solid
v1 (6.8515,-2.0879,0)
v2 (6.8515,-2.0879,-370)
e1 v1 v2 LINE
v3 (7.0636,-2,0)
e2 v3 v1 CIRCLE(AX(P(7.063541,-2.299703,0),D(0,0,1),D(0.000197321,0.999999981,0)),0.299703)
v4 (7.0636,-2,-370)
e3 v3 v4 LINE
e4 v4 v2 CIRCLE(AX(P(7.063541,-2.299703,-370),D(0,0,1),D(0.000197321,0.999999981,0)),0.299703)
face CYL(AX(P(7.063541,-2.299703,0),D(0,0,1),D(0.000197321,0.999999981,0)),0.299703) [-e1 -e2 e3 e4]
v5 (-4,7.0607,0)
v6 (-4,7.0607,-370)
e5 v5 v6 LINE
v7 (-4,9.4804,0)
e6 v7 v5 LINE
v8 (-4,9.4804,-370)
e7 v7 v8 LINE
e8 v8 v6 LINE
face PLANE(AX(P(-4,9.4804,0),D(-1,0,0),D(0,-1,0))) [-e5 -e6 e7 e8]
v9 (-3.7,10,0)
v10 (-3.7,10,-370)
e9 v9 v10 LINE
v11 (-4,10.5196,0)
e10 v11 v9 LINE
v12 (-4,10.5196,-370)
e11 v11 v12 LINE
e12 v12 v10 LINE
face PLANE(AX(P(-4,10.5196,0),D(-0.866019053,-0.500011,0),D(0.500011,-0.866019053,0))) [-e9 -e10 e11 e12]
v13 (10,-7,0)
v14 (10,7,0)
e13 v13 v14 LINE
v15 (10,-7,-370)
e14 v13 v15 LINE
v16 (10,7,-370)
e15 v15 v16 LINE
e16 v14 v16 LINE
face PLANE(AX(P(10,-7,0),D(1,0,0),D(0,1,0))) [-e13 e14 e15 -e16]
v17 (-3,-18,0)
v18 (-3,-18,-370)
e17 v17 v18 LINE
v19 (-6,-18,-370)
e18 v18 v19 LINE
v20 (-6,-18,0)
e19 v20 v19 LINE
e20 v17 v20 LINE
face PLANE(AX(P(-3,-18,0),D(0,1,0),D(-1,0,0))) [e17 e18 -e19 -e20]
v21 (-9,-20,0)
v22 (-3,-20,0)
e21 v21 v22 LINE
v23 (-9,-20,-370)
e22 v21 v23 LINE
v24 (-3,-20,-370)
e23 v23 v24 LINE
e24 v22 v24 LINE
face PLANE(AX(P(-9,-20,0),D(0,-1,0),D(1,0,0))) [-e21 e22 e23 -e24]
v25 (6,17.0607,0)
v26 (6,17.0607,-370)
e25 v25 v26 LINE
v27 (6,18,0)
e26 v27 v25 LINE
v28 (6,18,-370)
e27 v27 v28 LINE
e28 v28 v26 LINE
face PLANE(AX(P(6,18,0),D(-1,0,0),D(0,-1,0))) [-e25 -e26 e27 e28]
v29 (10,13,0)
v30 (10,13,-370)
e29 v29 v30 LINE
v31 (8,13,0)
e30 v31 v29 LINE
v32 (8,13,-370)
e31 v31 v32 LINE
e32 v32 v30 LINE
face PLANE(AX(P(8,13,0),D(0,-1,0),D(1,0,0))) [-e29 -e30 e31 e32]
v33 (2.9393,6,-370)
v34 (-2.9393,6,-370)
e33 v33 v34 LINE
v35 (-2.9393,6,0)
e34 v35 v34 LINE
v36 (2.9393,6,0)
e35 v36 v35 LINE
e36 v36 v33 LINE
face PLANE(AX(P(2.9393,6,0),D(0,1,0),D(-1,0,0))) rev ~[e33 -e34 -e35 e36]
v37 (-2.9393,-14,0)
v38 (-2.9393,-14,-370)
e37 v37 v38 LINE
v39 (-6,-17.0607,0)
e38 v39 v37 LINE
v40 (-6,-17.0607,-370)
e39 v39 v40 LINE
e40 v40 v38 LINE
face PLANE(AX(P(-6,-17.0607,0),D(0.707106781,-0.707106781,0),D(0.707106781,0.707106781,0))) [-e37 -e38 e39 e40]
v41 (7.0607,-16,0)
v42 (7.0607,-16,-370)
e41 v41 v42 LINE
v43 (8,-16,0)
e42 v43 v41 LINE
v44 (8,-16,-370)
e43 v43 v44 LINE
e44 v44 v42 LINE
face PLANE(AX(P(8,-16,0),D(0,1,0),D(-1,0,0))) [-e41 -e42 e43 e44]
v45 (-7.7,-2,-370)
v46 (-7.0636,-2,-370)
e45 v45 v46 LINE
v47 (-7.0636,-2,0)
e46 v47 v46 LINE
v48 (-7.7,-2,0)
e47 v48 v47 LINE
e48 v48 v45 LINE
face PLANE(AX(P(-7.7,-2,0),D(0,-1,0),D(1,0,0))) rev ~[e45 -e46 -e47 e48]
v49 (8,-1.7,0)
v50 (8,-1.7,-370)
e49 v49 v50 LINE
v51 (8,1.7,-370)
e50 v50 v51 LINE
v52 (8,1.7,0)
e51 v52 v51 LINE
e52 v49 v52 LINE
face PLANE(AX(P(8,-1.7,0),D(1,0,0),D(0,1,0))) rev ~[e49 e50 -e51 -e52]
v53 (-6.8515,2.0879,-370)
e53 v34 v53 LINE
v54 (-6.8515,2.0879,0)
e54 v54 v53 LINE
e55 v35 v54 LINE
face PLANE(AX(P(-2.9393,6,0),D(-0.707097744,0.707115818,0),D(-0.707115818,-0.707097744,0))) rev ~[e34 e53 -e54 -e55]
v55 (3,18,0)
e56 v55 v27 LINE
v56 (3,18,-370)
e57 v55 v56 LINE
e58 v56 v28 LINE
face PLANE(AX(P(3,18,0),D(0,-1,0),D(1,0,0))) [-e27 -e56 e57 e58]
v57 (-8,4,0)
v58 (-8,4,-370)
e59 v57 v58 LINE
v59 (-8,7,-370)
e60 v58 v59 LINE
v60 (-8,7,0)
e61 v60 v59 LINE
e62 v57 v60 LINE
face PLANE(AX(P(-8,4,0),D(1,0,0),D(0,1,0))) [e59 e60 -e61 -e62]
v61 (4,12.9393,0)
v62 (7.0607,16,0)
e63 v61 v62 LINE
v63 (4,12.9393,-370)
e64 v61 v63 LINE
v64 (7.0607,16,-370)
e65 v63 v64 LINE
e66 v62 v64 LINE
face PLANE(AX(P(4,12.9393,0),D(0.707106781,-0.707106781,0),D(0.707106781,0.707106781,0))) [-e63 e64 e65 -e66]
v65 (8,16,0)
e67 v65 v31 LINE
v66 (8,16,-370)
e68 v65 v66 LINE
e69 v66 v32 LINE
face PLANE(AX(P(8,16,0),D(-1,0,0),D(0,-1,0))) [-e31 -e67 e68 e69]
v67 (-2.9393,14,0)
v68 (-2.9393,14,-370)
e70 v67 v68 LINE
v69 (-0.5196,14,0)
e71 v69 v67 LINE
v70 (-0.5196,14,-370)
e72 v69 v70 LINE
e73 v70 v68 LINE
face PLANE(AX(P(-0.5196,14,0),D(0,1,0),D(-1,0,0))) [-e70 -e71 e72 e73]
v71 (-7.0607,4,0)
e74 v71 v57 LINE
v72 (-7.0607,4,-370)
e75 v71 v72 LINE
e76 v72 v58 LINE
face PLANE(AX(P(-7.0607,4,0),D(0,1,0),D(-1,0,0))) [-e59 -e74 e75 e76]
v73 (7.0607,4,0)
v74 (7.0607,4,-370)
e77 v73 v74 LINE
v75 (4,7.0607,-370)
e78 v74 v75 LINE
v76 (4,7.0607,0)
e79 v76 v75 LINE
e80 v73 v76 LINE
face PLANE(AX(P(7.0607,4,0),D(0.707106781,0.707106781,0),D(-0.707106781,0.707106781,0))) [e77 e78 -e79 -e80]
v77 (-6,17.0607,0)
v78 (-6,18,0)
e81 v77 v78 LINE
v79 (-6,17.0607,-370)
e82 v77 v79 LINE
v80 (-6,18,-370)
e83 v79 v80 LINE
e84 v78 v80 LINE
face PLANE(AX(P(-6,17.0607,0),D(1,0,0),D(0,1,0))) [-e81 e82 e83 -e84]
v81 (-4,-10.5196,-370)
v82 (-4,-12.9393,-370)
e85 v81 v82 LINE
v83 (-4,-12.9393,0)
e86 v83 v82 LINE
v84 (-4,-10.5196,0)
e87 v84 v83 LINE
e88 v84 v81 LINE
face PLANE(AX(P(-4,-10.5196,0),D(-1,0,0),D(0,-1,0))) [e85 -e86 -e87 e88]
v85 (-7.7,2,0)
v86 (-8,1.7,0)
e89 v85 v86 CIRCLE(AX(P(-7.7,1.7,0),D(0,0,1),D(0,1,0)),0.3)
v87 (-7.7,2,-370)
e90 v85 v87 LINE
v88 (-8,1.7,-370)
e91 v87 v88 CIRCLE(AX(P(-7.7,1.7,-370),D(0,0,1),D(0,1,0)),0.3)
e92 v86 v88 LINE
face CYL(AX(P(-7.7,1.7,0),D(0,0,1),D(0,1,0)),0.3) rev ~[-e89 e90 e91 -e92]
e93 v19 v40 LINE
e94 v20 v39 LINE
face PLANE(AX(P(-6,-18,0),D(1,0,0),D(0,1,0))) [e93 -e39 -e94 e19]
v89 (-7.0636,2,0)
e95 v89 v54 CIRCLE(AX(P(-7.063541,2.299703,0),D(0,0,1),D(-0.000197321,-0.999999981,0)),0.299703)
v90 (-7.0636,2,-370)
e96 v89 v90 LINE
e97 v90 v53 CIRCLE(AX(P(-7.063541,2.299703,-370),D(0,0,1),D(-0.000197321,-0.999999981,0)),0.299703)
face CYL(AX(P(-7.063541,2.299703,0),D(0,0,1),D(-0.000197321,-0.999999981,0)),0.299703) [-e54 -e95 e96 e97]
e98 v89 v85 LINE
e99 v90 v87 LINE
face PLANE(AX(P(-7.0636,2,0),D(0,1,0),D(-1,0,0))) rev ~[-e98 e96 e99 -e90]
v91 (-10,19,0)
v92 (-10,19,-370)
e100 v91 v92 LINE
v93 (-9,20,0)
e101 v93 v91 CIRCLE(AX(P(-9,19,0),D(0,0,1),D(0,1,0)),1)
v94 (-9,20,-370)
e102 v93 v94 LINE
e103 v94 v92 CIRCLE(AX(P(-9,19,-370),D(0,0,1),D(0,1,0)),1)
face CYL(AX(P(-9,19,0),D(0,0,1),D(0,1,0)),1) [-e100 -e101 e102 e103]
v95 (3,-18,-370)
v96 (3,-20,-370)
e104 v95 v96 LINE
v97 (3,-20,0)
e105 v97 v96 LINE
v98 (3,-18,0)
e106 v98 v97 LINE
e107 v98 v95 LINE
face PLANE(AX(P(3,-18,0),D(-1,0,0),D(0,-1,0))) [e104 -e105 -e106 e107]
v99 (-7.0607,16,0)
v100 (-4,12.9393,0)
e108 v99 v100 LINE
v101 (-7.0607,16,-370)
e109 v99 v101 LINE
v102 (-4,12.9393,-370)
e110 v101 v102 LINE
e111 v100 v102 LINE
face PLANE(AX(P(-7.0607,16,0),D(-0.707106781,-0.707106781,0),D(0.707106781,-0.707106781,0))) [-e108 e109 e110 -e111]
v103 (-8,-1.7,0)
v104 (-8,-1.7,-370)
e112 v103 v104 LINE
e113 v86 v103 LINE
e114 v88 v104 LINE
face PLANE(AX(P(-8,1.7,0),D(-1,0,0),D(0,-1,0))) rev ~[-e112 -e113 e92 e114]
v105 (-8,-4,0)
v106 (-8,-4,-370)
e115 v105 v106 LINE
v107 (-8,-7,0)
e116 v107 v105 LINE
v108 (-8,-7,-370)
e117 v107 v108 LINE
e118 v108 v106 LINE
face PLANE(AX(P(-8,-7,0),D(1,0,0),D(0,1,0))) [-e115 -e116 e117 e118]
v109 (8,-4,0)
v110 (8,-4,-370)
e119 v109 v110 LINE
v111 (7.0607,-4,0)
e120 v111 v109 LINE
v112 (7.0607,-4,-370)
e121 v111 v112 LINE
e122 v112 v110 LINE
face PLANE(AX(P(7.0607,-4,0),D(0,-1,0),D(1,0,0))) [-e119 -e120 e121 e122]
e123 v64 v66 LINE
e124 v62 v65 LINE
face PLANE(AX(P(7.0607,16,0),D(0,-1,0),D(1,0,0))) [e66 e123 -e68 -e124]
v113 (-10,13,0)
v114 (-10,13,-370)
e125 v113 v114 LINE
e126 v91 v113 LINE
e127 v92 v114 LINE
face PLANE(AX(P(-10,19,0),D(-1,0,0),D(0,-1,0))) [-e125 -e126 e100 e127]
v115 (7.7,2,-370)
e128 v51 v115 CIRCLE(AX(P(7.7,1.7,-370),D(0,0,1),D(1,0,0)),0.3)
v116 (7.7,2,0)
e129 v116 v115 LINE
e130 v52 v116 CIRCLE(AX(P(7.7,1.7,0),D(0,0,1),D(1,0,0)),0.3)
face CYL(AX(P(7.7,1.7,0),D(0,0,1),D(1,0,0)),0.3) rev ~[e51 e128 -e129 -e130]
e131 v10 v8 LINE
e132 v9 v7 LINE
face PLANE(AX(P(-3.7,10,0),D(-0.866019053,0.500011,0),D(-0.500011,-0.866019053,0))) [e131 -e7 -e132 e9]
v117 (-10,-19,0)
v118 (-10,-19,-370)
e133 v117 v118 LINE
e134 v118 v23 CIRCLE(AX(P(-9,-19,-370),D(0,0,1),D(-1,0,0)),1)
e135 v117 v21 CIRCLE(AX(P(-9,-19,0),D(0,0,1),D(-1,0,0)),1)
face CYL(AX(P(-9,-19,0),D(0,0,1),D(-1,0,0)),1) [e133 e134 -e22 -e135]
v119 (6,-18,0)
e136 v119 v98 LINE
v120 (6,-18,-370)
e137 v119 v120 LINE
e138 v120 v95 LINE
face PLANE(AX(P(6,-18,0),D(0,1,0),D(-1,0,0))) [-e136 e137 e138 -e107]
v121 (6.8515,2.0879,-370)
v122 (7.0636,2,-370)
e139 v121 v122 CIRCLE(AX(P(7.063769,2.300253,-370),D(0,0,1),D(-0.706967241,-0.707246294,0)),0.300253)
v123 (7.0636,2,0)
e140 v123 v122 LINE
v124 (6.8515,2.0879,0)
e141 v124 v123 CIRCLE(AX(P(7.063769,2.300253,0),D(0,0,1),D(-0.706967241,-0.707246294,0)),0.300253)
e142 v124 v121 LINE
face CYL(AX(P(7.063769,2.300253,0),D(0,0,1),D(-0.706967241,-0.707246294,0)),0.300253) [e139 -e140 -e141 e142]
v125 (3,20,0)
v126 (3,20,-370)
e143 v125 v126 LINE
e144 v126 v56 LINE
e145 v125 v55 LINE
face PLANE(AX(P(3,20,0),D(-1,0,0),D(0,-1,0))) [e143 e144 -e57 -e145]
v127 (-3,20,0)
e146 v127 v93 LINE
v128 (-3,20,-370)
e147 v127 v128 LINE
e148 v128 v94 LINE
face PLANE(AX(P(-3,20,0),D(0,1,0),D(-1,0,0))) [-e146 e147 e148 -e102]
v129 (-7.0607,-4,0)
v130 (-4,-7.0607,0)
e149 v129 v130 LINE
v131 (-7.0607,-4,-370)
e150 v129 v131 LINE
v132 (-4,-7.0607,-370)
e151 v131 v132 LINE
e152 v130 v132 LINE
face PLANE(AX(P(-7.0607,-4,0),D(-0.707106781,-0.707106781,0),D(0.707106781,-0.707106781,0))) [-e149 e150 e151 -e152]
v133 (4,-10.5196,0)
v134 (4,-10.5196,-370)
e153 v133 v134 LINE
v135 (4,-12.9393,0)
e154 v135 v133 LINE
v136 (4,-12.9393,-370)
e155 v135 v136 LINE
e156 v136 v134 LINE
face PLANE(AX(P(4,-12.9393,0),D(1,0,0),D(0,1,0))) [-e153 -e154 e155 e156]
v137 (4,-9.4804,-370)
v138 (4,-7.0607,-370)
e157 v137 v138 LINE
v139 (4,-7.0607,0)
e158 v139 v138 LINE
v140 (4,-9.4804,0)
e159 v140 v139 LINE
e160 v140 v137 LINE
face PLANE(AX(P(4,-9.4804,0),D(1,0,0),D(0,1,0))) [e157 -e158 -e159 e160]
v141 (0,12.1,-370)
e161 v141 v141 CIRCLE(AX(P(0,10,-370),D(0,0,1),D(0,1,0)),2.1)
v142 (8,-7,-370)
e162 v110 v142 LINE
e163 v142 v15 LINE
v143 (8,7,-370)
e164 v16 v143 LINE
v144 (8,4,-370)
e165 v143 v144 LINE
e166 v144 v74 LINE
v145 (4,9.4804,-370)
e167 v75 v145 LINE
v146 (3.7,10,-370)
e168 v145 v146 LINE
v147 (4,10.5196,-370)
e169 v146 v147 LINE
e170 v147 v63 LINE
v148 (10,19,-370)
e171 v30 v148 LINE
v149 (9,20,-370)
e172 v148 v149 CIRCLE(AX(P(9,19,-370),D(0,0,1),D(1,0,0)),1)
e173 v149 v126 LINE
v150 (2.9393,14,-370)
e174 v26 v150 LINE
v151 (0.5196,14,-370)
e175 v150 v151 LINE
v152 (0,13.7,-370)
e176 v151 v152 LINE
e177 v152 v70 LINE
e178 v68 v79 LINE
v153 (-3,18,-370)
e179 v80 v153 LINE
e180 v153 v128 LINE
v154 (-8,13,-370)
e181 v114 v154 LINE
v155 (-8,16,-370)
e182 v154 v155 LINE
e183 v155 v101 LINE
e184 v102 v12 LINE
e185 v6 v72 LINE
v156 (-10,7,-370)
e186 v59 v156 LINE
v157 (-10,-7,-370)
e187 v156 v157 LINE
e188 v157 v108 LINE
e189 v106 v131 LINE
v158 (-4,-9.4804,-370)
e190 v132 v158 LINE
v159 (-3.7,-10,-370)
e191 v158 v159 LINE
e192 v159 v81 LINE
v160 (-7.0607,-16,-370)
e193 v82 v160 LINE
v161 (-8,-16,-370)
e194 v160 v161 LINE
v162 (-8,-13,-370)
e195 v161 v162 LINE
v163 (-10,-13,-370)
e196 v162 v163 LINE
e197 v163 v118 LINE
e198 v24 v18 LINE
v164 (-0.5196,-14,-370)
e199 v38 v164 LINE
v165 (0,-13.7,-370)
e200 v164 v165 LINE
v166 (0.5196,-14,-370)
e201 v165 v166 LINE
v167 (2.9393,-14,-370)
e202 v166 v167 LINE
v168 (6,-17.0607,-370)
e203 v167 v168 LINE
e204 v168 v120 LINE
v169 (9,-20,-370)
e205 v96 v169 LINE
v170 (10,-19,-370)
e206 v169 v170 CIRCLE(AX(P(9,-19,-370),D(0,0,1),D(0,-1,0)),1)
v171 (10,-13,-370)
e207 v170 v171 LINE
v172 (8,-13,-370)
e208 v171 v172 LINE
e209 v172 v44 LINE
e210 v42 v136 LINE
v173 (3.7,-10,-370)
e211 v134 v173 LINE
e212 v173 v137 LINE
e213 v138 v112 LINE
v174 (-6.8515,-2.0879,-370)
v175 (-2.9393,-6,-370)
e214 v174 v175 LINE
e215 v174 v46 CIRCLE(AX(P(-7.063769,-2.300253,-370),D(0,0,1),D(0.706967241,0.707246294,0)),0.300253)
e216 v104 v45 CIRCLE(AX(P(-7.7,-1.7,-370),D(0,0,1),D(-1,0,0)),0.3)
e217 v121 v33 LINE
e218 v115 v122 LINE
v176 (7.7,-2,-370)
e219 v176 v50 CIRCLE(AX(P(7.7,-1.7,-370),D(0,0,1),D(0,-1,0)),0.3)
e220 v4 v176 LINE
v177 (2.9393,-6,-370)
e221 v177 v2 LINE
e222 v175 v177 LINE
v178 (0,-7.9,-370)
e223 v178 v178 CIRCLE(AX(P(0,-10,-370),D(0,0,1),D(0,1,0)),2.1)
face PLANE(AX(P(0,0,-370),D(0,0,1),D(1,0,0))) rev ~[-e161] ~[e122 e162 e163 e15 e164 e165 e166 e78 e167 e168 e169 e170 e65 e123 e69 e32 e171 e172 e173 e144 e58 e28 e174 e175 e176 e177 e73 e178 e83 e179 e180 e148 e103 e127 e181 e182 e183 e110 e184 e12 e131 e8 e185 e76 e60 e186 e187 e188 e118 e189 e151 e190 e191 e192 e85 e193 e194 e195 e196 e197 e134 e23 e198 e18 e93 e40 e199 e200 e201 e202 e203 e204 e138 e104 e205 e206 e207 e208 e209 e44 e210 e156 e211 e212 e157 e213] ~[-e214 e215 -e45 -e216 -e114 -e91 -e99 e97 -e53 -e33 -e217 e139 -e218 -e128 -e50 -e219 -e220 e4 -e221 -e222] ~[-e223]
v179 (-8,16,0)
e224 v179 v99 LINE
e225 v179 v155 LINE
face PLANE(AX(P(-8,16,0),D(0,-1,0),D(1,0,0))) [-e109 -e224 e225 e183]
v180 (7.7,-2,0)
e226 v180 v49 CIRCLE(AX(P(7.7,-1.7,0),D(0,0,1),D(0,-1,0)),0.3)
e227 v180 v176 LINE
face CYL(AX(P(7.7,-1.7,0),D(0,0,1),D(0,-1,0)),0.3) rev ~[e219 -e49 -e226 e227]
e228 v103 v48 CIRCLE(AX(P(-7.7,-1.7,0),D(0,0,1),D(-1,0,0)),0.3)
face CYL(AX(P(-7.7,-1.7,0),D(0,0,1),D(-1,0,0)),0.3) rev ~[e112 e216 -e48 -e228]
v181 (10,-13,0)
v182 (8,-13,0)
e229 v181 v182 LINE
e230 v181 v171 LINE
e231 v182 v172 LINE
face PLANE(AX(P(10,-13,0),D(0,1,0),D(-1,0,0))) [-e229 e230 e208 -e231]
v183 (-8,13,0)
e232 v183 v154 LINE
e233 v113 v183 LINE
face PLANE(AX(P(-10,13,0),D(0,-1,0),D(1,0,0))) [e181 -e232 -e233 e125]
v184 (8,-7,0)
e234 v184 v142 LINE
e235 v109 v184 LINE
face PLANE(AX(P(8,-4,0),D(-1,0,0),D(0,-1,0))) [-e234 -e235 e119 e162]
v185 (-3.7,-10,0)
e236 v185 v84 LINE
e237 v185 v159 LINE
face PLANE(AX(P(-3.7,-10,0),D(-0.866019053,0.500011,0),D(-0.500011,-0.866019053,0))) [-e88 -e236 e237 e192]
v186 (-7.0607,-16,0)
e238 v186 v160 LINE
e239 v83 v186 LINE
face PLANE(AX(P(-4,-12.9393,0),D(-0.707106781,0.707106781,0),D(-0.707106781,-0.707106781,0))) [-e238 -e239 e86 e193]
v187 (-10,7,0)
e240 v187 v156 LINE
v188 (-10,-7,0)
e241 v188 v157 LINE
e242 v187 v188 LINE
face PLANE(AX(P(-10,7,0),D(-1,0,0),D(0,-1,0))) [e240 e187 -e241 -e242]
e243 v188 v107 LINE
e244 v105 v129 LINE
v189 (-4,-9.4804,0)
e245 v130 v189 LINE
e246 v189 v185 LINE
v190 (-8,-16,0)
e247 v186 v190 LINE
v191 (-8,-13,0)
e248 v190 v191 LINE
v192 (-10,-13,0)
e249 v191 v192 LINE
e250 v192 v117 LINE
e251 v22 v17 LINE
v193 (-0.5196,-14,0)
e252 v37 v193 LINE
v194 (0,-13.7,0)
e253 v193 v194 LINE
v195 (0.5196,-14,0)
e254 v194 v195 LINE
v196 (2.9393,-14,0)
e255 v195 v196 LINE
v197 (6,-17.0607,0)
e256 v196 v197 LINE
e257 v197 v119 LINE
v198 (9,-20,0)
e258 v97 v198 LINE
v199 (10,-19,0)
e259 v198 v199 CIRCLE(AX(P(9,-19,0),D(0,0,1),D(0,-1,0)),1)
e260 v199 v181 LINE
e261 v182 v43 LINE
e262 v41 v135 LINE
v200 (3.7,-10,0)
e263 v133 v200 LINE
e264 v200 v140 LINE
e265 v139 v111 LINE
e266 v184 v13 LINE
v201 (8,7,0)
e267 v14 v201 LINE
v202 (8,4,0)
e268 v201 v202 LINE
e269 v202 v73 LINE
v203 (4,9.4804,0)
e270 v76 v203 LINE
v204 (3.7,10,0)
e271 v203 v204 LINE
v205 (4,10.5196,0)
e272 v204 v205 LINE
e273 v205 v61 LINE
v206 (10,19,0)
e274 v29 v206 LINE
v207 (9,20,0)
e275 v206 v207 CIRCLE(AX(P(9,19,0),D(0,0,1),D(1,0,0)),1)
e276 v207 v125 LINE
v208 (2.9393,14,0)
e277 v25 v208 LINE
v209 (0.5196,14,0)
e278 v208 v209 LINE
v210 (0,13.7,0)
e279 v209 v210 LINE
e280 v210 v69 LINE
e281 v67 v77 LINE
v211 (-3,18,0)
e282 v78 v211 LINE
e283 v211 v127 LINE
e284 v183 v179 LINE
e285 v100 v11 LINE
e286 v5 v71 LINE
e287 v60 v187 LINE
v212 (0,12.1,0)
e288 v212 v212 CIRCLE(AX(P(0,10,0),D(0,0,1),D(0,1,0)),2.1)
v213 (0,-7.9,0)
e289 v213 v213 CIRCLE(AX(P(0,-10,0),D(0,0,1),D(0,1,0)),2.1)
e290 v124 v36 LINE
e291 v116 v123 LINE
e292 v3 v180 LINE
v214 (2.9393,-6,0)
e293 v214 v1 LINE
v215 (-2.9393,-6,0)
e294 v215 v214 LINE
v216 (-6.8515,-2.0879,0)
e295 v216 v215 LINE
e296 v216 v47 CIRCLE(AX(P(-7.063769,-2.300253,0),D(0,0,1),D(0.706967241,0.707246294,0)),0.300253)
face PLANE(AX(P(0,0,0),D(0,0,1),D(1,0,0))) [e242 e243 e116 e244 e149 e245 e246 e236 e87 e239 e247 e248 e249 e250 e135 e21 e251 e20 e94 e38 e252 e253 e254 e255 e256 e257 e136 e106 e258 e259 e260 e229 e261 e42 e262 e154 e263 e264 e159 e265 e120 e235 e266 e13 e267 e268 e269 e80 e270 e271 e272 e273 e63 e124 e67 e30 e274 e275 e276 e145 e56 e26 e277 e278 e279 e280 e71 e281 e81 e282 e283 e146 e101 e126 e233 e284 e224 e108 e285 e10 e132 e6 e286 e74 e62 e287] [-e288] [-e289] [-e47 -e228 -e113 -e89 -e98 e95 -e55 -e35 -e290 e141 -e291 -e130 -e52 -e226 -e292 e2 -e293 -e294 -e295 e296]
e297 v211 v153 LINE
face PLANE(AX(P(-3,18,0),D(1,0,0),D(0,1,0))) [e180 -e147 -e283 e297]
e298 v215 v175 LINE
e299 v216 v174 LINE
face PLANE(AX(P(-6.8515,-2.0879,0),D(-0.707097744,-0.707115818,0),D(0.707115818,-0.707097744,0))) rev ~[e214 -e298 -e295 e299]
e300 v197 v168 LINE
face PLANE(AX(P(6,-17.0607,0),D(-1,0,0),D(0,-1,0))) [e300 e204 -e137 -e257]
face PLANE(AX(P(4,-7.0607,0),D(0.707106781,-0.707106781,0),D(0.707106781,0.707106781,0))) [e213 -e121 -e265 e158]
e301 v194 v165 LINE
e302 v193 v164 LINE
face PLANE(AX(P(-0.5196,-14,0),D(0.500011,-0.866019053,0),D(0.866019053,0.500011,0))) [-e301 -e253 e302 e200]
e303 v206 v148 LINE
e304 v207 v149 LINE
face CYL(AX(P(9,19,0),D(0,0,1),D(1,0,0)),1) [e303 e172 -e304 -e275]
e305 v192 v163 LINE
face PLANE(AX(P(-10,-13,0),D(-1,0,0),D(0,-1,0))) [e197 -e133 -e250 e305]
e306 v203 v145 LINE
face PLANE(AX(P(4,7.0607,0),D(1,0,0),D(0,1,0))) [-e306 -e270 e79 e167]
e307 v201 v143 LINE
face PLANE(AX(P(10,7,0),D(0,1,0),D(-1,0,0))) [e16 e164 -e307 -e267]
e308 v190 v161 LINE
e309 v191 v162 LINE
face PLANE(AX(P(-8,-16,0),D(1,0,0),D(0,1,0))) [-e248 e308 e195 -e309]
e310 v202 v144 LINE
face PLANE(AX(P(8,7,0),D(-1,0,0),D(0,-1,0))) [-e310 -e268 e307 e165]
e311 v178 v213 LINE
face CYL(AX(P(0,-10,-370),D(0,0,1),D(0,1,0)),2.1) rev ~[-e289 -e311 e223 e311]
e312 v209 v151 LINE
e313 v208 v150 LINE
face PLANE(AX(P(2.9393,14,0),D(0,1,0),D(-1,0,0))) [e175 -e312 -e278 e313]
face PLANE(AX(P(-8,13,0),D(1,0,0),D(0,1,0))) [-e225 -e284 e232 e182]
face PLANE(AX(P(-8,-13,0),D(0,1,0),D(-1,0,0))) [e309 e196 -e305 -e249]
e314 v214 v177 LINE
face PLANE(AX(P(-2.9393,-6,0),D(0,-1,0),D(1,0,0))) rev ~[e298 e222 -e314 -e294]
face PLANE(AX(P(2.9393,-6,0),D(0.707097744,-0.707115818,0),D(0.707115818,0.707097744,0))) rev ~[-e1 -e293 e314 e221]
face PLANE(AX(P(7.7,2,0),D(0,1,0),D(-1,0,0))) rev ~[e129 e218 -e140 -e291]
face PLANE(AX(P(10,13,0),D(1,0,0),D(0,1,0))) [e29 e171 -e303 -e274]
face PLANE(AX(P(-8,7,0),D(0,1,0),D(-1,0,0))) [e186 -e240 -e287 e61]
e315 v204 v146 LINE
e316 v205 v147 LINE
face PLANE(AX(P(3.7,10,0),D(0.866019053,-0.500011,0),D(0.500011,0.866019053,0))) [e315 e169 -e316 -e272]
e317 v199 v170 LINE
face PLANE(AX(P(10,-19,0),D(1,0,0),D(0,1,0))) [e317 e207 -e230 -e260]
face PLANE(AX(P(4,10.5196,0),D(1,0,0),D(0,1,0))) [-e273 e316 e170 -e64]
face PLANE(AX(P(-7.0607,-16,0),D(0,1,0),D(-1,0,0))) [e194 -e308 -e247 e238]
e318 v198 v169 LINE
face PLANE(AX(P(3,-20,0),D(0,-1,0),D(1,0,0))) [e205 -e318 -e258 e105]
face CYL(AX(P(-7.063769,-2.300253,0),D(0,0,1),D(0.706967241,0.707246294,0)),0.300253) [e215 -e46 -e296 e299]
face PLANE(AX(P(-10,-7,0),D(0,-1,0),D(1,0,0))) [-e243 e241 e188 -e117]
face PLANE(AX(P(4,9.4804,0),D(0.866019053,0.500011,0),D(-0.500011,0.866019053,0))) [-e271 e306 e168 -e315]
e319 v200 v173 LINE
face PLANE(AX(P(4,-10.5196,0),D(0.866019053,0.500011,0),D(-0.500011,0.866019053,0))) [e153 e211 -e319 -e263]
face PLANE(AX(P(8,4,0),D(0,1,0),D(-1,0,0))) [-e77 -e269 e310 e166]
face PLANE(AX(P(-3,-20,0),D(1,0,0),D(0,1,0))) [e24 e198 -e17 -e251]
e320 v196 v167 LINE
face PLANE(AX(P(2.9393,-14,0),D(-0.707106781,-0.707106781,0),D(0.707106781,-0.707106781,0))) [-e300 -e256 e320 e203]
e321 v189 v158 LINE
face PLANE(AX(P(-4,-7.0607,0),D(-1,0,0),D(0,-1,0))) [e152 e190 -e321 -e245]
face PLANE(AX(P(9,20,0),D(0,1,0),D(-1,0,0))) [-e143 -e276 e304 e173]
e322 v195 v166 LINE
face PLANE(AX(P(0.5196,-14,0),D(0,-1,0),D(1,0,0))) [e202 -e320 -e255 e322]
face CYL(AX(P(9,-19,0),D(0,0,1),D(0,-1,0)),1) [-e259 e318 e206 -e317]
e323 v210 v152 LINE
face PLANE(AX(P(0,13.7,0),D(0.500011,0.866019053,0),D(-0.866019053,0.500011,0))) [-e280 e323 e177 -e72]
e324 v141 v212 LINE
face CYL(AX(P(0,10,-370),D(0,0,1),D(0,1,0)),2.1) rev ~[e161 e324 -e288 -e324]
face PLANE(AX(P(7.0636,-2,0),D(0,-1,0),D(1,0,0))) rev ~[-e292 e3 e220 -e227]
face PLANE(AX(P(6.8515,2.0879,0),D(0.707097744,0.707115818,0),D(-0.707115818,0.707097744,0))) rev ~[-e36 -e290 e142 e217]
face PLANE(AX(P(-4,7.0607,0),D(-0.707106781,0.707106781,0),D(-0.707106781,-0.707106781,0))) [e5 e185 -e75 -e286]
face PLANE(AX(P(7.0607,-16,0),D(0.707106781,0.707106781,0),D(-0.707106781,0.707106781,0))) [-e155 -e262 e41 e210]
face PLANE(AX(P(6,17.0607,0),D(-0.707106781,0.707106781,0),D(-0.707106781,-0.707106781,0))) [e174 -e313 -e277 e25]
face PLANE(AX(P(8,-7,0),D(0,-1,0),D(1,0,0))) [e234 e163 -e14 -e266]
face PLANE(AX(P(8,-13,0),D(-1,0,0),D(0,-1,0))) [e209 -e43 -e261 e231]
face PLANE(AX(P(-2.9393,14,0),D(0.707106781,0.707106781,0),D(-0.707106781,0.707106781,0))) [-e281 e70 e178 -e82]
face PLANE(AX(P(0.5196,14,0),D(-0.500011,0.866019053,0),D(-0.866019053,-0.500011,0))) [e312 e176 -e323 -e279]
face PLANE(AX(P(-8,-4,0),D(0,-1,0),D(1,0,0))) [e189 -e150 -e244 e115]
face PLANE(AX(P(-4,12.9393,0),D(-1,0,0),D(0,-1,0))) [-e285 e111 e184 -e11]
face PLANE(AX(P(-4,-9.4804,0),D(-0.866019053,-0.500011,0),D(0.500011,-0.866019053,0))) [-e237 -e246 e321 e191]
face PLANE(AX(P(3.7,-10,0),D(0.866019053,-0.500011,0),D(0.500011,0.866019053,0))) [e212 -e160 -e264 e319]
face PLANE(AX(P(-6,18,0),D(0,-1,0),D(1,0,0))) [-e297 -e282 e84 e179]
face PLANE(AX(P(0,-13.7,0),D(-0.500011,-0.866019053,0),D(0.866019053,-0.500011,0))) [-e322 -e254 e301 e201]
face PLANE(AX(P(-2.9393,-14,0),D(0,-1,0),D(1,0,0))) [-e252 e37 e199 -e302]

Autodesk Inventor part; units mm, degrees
sketch "Sketch_1" plane through (0, 0, 0) normal (0, 0, 1) x (1, 0, 0)
  line L0 (-10, -7) -> (-8, -7)
  line L1 (-8, -7) -> (-8, -4)
  line L2 (-8, -4) -> (-7.0607, -4)
  line L3 (-7.0607, -4) -> (-4, -7.0607)
  line L4 (-4, -7.0607) -> (-4, -9.4804)
  line L5 (-4, -9.4804) -> (-3.7, -10)
  line L6 (-3.7, -10) -> (-4, -10.5196)
  line L7 (-4, -10.5196) -> (-4, -12.9393)
  line L8 (-4, -12.9393) -> (-7.0607, -16)
  line L9 (-7.0607, -16) -> (-8, -16)
  line L10 (-8, -16) -> (-8, -13)
  line L11 (-8, -13) -> (-10, -13)
  line L12 (-10, -13) -> (-10, -19)
  arc A0 (-10, -19) -> (-9, -20) centre (-9, -19) ccw
  line L13 (-9, -20) -> (-3, -20)
  line L14 (-3, -20) -> (-3, -18)
  line L15 (-3, -18) -> (-6, -18)
  line L16 (-6, -18) -> (-6, -17.0607)
  line L17 (-6, -17.0607) -> (-2.9393, -14)
  line L18 (-2.9393, -14) -> (-0.5196, -14)
  line L19 (-0.5196, -14) -> (0, -13.7)
  line L20 (0, -13.7) -> (0.5196, -14)
  line L21 (0.5196, -14) -> (2.9393, -14)
  line L22 (2.9393, -14) -> (6, -17.0607)
  line L23 (6, -17.0607) -> (6, -18)
  line L24 (6, -18) -> (3, -18)
  line L25 (3, -18) -> (3, -20)
  line L26 (3, -20) -> (9, -20)
  arc A1 (9, -20) -> (10, -19) centre (9, -19) ccw
  line L27 (10, -19) -> (10, -13)
  line L28 (10, -13) -> (8, -13)
  line L29 (8, -13) -> (8, -16)
  line L30 (8, -16) -> (7.0607, -16)
  line L31 (7.0607, -16) -> (4, -12.9393)
  line L32 (4, -12.9393) -> (4, -10.5196)
  line L33 (4, -10.5196) -> (3.7, -10)
  line L34 (3.7, -10) -> (4, -9.4804)
  line L35 (4, -9.4804) -> (4, -7.0607)
  line L36 (4, -7.0607) -> (7.0607, -4)
  line L37 (7.0607, -4) -> (8, -4)
  line L38 (8, -4) -> (8, -7)
  line L39 (8, -7) -> (10, -7)
  line L40 (10, -7) -> (10, 7)
  line L41 (10, 7) -> (8, 7)
  line L42 (8, 7) -> (8, 4)
  line L43 (8, 4) -> (7.0607, 4)
  line L44 (7.0607, 4) -> (4, 7.0607)
  line L45 (4, 7.0607) -> (4, 9.4804)
  line L46 (4, 9.4804) -> (3.7, 10)
  line L47 (3.7, 10) -> (4, 10.5196)
  line L48 (4, 10.5196) -> (4, 12.9393)
  line L49 (4, 12.9393) -> (7.0607, 16)
  line L50 (7.0607, 16) -> (8, 16)
  line L51 (8, 16) -> (8, 13)
  line L52 (8, 13) -> (10, 13)
  line L53 (10, 13) -> (10, 19)
  arc A2 (10, 19) -> (9, 20) centre (9, 19) ccw
  line L54 (9, 20) -> (3, 20)
  line L55 (3, 20) -> (3, 18)
  line L56 (3, 18) -> (6, 18)
  line L57 (6, 18) -> (6, 17.0607)
  line L58 (6, 17.0607) -> (2.9393, 14)
  line L59 (2.9393, 14) -> (0.5196, 14)
  line L60 (0.5196, 14) -> (0, 13.7)
  line L61 (0, 13.7) -> (-0.5196, 14)
  line L62 (-0.5196, 14) -> (-2.9393, 14)
  line L63 (-2.9393, 14) -> (-6, 17.0607)
  line L64 (-6, 17.0607) -> (-6, 18)
  line L65 (-6, 18) -> (-3, 18)
  line L66 (-3, 18) -> (-3, 20)
  line L67 (-3, 20) -> (-9, 20)
  arc A3 (-9, 20) -> (-10, 19) centre (-9, 19) ccw
  line L68 (-10, 19) -> (-10, 13)
  line L69 (-10, 13) -> (-8, 13)
  line L70 (-8, 13) -> (-8, 16)
  line L71 (-8, 16) -> (-7.0607, 16)
  line L72 (-7.0607, 16) -> (-4, 12.9393)
  line L73 (-4, 12.9393) -> (-4, 10.5196)
  line L74 (-4, 10.5196) -> (-3.7, 10)
  line L75 (-3.7, 10) -> (-4, 9.4804)
  line L76 (-4, 9.4804) -> (-4, 7.0607)
  line L77 (-4, 7.0607) -> (-7.0607, 4)
  line L78 (-7.0607, 4) -> (-8, 4)
  line L79 (-8, 4) -> (-8, 7)
  line L80 (-8, 7) -> (-10, 7)
  line L81 (-10, 7) -> (-10, -7)
  line L82 (-8, 1.7) -> (-8, -1.7)
  arc A4 (-8, -1.7) -> (-7.7, -2) centre (-7.7, -1.7) ccw
  line L83 (-7.7, -2) -> (-7.0636, -2)
  arc A5 (-6.8515, -2.0879) -> (-7.0636, -2) centre (-7.0636, -2.3) ccw
  line L84 (-6.8515, -2.0879) -> (-2.9393, -6)
  line L85 (-2.9393, -6) -> (2.9393, -6)
  line L86 (2.9393, -6) -> (6.8515, -2.0879)
  arc A6 (7.0636, -2) -> (6.8515, -2.0879) centre (7.0636, -2.3) ccw
  line L87 (7.0636, -2) -> (7.7, -2)
  arc A7 (7.7, -2) -> (8, -1.7) centre (7.7, -1.7) ccw
  line L88 (8, -1.7) -> (8, 1.7)
  arc A8 (8, 1.7) -> (7.7, 2) centre (7.7, 1.7) ccw
  line L89 (7.7, 2) -> (7.0636, 2)
  arc A9 (6.8515, 2.0879) -> (7.0636, 2) centre (7.0636, 2.3) ccw
  line L90 (6.8515, 2.0879) -> (2.9393, 6)
  line L91 (2.9393, 6) -> (-2.9393, 6)
  line L92 (-2.9393, 6) -> (-6.8515, 2.0879)
  arc A10 (-7.0636, 2) -> (-6.8515, 2.0879) centre (-7.0636, 2.3) ccw
  line L93 (-7.0636, 2) -> (-7.7, 2)
  arc A11 (-7.7, 2) -> (-8, 1.7) centre (-7.7, 1.7) ccw
extrude "Extrusion1" add sketch "Sketch_1" against normal blind 370
sketch "Sketch2" plane through (0, 0, -370) normal (0, 0, -1) x (-1, 0, 0)
  point P0 (0, 10)
hole "Hole1" at (0, 10, -370) direction (0, 0, 1) diameter 4.2 depth 370
pattern_linear "Rectangular Pattern1" count 2 spacing 20 along (0, -1, 0) of "Hole1"
ref_plane "C1_XY" through (0, 0, 0) normal (0, 0, 1) x (1, 0, 0)
ref_plane "C1_YZ" through (0, 0, 0) normal (1, 0, 0) x (0, 1, 0)
ref_plane "C1_ZX" through (0, 0, 0) normal (0, 1, 0) x (0, 0, 1)
properties part number "HFS5-2040-370"
